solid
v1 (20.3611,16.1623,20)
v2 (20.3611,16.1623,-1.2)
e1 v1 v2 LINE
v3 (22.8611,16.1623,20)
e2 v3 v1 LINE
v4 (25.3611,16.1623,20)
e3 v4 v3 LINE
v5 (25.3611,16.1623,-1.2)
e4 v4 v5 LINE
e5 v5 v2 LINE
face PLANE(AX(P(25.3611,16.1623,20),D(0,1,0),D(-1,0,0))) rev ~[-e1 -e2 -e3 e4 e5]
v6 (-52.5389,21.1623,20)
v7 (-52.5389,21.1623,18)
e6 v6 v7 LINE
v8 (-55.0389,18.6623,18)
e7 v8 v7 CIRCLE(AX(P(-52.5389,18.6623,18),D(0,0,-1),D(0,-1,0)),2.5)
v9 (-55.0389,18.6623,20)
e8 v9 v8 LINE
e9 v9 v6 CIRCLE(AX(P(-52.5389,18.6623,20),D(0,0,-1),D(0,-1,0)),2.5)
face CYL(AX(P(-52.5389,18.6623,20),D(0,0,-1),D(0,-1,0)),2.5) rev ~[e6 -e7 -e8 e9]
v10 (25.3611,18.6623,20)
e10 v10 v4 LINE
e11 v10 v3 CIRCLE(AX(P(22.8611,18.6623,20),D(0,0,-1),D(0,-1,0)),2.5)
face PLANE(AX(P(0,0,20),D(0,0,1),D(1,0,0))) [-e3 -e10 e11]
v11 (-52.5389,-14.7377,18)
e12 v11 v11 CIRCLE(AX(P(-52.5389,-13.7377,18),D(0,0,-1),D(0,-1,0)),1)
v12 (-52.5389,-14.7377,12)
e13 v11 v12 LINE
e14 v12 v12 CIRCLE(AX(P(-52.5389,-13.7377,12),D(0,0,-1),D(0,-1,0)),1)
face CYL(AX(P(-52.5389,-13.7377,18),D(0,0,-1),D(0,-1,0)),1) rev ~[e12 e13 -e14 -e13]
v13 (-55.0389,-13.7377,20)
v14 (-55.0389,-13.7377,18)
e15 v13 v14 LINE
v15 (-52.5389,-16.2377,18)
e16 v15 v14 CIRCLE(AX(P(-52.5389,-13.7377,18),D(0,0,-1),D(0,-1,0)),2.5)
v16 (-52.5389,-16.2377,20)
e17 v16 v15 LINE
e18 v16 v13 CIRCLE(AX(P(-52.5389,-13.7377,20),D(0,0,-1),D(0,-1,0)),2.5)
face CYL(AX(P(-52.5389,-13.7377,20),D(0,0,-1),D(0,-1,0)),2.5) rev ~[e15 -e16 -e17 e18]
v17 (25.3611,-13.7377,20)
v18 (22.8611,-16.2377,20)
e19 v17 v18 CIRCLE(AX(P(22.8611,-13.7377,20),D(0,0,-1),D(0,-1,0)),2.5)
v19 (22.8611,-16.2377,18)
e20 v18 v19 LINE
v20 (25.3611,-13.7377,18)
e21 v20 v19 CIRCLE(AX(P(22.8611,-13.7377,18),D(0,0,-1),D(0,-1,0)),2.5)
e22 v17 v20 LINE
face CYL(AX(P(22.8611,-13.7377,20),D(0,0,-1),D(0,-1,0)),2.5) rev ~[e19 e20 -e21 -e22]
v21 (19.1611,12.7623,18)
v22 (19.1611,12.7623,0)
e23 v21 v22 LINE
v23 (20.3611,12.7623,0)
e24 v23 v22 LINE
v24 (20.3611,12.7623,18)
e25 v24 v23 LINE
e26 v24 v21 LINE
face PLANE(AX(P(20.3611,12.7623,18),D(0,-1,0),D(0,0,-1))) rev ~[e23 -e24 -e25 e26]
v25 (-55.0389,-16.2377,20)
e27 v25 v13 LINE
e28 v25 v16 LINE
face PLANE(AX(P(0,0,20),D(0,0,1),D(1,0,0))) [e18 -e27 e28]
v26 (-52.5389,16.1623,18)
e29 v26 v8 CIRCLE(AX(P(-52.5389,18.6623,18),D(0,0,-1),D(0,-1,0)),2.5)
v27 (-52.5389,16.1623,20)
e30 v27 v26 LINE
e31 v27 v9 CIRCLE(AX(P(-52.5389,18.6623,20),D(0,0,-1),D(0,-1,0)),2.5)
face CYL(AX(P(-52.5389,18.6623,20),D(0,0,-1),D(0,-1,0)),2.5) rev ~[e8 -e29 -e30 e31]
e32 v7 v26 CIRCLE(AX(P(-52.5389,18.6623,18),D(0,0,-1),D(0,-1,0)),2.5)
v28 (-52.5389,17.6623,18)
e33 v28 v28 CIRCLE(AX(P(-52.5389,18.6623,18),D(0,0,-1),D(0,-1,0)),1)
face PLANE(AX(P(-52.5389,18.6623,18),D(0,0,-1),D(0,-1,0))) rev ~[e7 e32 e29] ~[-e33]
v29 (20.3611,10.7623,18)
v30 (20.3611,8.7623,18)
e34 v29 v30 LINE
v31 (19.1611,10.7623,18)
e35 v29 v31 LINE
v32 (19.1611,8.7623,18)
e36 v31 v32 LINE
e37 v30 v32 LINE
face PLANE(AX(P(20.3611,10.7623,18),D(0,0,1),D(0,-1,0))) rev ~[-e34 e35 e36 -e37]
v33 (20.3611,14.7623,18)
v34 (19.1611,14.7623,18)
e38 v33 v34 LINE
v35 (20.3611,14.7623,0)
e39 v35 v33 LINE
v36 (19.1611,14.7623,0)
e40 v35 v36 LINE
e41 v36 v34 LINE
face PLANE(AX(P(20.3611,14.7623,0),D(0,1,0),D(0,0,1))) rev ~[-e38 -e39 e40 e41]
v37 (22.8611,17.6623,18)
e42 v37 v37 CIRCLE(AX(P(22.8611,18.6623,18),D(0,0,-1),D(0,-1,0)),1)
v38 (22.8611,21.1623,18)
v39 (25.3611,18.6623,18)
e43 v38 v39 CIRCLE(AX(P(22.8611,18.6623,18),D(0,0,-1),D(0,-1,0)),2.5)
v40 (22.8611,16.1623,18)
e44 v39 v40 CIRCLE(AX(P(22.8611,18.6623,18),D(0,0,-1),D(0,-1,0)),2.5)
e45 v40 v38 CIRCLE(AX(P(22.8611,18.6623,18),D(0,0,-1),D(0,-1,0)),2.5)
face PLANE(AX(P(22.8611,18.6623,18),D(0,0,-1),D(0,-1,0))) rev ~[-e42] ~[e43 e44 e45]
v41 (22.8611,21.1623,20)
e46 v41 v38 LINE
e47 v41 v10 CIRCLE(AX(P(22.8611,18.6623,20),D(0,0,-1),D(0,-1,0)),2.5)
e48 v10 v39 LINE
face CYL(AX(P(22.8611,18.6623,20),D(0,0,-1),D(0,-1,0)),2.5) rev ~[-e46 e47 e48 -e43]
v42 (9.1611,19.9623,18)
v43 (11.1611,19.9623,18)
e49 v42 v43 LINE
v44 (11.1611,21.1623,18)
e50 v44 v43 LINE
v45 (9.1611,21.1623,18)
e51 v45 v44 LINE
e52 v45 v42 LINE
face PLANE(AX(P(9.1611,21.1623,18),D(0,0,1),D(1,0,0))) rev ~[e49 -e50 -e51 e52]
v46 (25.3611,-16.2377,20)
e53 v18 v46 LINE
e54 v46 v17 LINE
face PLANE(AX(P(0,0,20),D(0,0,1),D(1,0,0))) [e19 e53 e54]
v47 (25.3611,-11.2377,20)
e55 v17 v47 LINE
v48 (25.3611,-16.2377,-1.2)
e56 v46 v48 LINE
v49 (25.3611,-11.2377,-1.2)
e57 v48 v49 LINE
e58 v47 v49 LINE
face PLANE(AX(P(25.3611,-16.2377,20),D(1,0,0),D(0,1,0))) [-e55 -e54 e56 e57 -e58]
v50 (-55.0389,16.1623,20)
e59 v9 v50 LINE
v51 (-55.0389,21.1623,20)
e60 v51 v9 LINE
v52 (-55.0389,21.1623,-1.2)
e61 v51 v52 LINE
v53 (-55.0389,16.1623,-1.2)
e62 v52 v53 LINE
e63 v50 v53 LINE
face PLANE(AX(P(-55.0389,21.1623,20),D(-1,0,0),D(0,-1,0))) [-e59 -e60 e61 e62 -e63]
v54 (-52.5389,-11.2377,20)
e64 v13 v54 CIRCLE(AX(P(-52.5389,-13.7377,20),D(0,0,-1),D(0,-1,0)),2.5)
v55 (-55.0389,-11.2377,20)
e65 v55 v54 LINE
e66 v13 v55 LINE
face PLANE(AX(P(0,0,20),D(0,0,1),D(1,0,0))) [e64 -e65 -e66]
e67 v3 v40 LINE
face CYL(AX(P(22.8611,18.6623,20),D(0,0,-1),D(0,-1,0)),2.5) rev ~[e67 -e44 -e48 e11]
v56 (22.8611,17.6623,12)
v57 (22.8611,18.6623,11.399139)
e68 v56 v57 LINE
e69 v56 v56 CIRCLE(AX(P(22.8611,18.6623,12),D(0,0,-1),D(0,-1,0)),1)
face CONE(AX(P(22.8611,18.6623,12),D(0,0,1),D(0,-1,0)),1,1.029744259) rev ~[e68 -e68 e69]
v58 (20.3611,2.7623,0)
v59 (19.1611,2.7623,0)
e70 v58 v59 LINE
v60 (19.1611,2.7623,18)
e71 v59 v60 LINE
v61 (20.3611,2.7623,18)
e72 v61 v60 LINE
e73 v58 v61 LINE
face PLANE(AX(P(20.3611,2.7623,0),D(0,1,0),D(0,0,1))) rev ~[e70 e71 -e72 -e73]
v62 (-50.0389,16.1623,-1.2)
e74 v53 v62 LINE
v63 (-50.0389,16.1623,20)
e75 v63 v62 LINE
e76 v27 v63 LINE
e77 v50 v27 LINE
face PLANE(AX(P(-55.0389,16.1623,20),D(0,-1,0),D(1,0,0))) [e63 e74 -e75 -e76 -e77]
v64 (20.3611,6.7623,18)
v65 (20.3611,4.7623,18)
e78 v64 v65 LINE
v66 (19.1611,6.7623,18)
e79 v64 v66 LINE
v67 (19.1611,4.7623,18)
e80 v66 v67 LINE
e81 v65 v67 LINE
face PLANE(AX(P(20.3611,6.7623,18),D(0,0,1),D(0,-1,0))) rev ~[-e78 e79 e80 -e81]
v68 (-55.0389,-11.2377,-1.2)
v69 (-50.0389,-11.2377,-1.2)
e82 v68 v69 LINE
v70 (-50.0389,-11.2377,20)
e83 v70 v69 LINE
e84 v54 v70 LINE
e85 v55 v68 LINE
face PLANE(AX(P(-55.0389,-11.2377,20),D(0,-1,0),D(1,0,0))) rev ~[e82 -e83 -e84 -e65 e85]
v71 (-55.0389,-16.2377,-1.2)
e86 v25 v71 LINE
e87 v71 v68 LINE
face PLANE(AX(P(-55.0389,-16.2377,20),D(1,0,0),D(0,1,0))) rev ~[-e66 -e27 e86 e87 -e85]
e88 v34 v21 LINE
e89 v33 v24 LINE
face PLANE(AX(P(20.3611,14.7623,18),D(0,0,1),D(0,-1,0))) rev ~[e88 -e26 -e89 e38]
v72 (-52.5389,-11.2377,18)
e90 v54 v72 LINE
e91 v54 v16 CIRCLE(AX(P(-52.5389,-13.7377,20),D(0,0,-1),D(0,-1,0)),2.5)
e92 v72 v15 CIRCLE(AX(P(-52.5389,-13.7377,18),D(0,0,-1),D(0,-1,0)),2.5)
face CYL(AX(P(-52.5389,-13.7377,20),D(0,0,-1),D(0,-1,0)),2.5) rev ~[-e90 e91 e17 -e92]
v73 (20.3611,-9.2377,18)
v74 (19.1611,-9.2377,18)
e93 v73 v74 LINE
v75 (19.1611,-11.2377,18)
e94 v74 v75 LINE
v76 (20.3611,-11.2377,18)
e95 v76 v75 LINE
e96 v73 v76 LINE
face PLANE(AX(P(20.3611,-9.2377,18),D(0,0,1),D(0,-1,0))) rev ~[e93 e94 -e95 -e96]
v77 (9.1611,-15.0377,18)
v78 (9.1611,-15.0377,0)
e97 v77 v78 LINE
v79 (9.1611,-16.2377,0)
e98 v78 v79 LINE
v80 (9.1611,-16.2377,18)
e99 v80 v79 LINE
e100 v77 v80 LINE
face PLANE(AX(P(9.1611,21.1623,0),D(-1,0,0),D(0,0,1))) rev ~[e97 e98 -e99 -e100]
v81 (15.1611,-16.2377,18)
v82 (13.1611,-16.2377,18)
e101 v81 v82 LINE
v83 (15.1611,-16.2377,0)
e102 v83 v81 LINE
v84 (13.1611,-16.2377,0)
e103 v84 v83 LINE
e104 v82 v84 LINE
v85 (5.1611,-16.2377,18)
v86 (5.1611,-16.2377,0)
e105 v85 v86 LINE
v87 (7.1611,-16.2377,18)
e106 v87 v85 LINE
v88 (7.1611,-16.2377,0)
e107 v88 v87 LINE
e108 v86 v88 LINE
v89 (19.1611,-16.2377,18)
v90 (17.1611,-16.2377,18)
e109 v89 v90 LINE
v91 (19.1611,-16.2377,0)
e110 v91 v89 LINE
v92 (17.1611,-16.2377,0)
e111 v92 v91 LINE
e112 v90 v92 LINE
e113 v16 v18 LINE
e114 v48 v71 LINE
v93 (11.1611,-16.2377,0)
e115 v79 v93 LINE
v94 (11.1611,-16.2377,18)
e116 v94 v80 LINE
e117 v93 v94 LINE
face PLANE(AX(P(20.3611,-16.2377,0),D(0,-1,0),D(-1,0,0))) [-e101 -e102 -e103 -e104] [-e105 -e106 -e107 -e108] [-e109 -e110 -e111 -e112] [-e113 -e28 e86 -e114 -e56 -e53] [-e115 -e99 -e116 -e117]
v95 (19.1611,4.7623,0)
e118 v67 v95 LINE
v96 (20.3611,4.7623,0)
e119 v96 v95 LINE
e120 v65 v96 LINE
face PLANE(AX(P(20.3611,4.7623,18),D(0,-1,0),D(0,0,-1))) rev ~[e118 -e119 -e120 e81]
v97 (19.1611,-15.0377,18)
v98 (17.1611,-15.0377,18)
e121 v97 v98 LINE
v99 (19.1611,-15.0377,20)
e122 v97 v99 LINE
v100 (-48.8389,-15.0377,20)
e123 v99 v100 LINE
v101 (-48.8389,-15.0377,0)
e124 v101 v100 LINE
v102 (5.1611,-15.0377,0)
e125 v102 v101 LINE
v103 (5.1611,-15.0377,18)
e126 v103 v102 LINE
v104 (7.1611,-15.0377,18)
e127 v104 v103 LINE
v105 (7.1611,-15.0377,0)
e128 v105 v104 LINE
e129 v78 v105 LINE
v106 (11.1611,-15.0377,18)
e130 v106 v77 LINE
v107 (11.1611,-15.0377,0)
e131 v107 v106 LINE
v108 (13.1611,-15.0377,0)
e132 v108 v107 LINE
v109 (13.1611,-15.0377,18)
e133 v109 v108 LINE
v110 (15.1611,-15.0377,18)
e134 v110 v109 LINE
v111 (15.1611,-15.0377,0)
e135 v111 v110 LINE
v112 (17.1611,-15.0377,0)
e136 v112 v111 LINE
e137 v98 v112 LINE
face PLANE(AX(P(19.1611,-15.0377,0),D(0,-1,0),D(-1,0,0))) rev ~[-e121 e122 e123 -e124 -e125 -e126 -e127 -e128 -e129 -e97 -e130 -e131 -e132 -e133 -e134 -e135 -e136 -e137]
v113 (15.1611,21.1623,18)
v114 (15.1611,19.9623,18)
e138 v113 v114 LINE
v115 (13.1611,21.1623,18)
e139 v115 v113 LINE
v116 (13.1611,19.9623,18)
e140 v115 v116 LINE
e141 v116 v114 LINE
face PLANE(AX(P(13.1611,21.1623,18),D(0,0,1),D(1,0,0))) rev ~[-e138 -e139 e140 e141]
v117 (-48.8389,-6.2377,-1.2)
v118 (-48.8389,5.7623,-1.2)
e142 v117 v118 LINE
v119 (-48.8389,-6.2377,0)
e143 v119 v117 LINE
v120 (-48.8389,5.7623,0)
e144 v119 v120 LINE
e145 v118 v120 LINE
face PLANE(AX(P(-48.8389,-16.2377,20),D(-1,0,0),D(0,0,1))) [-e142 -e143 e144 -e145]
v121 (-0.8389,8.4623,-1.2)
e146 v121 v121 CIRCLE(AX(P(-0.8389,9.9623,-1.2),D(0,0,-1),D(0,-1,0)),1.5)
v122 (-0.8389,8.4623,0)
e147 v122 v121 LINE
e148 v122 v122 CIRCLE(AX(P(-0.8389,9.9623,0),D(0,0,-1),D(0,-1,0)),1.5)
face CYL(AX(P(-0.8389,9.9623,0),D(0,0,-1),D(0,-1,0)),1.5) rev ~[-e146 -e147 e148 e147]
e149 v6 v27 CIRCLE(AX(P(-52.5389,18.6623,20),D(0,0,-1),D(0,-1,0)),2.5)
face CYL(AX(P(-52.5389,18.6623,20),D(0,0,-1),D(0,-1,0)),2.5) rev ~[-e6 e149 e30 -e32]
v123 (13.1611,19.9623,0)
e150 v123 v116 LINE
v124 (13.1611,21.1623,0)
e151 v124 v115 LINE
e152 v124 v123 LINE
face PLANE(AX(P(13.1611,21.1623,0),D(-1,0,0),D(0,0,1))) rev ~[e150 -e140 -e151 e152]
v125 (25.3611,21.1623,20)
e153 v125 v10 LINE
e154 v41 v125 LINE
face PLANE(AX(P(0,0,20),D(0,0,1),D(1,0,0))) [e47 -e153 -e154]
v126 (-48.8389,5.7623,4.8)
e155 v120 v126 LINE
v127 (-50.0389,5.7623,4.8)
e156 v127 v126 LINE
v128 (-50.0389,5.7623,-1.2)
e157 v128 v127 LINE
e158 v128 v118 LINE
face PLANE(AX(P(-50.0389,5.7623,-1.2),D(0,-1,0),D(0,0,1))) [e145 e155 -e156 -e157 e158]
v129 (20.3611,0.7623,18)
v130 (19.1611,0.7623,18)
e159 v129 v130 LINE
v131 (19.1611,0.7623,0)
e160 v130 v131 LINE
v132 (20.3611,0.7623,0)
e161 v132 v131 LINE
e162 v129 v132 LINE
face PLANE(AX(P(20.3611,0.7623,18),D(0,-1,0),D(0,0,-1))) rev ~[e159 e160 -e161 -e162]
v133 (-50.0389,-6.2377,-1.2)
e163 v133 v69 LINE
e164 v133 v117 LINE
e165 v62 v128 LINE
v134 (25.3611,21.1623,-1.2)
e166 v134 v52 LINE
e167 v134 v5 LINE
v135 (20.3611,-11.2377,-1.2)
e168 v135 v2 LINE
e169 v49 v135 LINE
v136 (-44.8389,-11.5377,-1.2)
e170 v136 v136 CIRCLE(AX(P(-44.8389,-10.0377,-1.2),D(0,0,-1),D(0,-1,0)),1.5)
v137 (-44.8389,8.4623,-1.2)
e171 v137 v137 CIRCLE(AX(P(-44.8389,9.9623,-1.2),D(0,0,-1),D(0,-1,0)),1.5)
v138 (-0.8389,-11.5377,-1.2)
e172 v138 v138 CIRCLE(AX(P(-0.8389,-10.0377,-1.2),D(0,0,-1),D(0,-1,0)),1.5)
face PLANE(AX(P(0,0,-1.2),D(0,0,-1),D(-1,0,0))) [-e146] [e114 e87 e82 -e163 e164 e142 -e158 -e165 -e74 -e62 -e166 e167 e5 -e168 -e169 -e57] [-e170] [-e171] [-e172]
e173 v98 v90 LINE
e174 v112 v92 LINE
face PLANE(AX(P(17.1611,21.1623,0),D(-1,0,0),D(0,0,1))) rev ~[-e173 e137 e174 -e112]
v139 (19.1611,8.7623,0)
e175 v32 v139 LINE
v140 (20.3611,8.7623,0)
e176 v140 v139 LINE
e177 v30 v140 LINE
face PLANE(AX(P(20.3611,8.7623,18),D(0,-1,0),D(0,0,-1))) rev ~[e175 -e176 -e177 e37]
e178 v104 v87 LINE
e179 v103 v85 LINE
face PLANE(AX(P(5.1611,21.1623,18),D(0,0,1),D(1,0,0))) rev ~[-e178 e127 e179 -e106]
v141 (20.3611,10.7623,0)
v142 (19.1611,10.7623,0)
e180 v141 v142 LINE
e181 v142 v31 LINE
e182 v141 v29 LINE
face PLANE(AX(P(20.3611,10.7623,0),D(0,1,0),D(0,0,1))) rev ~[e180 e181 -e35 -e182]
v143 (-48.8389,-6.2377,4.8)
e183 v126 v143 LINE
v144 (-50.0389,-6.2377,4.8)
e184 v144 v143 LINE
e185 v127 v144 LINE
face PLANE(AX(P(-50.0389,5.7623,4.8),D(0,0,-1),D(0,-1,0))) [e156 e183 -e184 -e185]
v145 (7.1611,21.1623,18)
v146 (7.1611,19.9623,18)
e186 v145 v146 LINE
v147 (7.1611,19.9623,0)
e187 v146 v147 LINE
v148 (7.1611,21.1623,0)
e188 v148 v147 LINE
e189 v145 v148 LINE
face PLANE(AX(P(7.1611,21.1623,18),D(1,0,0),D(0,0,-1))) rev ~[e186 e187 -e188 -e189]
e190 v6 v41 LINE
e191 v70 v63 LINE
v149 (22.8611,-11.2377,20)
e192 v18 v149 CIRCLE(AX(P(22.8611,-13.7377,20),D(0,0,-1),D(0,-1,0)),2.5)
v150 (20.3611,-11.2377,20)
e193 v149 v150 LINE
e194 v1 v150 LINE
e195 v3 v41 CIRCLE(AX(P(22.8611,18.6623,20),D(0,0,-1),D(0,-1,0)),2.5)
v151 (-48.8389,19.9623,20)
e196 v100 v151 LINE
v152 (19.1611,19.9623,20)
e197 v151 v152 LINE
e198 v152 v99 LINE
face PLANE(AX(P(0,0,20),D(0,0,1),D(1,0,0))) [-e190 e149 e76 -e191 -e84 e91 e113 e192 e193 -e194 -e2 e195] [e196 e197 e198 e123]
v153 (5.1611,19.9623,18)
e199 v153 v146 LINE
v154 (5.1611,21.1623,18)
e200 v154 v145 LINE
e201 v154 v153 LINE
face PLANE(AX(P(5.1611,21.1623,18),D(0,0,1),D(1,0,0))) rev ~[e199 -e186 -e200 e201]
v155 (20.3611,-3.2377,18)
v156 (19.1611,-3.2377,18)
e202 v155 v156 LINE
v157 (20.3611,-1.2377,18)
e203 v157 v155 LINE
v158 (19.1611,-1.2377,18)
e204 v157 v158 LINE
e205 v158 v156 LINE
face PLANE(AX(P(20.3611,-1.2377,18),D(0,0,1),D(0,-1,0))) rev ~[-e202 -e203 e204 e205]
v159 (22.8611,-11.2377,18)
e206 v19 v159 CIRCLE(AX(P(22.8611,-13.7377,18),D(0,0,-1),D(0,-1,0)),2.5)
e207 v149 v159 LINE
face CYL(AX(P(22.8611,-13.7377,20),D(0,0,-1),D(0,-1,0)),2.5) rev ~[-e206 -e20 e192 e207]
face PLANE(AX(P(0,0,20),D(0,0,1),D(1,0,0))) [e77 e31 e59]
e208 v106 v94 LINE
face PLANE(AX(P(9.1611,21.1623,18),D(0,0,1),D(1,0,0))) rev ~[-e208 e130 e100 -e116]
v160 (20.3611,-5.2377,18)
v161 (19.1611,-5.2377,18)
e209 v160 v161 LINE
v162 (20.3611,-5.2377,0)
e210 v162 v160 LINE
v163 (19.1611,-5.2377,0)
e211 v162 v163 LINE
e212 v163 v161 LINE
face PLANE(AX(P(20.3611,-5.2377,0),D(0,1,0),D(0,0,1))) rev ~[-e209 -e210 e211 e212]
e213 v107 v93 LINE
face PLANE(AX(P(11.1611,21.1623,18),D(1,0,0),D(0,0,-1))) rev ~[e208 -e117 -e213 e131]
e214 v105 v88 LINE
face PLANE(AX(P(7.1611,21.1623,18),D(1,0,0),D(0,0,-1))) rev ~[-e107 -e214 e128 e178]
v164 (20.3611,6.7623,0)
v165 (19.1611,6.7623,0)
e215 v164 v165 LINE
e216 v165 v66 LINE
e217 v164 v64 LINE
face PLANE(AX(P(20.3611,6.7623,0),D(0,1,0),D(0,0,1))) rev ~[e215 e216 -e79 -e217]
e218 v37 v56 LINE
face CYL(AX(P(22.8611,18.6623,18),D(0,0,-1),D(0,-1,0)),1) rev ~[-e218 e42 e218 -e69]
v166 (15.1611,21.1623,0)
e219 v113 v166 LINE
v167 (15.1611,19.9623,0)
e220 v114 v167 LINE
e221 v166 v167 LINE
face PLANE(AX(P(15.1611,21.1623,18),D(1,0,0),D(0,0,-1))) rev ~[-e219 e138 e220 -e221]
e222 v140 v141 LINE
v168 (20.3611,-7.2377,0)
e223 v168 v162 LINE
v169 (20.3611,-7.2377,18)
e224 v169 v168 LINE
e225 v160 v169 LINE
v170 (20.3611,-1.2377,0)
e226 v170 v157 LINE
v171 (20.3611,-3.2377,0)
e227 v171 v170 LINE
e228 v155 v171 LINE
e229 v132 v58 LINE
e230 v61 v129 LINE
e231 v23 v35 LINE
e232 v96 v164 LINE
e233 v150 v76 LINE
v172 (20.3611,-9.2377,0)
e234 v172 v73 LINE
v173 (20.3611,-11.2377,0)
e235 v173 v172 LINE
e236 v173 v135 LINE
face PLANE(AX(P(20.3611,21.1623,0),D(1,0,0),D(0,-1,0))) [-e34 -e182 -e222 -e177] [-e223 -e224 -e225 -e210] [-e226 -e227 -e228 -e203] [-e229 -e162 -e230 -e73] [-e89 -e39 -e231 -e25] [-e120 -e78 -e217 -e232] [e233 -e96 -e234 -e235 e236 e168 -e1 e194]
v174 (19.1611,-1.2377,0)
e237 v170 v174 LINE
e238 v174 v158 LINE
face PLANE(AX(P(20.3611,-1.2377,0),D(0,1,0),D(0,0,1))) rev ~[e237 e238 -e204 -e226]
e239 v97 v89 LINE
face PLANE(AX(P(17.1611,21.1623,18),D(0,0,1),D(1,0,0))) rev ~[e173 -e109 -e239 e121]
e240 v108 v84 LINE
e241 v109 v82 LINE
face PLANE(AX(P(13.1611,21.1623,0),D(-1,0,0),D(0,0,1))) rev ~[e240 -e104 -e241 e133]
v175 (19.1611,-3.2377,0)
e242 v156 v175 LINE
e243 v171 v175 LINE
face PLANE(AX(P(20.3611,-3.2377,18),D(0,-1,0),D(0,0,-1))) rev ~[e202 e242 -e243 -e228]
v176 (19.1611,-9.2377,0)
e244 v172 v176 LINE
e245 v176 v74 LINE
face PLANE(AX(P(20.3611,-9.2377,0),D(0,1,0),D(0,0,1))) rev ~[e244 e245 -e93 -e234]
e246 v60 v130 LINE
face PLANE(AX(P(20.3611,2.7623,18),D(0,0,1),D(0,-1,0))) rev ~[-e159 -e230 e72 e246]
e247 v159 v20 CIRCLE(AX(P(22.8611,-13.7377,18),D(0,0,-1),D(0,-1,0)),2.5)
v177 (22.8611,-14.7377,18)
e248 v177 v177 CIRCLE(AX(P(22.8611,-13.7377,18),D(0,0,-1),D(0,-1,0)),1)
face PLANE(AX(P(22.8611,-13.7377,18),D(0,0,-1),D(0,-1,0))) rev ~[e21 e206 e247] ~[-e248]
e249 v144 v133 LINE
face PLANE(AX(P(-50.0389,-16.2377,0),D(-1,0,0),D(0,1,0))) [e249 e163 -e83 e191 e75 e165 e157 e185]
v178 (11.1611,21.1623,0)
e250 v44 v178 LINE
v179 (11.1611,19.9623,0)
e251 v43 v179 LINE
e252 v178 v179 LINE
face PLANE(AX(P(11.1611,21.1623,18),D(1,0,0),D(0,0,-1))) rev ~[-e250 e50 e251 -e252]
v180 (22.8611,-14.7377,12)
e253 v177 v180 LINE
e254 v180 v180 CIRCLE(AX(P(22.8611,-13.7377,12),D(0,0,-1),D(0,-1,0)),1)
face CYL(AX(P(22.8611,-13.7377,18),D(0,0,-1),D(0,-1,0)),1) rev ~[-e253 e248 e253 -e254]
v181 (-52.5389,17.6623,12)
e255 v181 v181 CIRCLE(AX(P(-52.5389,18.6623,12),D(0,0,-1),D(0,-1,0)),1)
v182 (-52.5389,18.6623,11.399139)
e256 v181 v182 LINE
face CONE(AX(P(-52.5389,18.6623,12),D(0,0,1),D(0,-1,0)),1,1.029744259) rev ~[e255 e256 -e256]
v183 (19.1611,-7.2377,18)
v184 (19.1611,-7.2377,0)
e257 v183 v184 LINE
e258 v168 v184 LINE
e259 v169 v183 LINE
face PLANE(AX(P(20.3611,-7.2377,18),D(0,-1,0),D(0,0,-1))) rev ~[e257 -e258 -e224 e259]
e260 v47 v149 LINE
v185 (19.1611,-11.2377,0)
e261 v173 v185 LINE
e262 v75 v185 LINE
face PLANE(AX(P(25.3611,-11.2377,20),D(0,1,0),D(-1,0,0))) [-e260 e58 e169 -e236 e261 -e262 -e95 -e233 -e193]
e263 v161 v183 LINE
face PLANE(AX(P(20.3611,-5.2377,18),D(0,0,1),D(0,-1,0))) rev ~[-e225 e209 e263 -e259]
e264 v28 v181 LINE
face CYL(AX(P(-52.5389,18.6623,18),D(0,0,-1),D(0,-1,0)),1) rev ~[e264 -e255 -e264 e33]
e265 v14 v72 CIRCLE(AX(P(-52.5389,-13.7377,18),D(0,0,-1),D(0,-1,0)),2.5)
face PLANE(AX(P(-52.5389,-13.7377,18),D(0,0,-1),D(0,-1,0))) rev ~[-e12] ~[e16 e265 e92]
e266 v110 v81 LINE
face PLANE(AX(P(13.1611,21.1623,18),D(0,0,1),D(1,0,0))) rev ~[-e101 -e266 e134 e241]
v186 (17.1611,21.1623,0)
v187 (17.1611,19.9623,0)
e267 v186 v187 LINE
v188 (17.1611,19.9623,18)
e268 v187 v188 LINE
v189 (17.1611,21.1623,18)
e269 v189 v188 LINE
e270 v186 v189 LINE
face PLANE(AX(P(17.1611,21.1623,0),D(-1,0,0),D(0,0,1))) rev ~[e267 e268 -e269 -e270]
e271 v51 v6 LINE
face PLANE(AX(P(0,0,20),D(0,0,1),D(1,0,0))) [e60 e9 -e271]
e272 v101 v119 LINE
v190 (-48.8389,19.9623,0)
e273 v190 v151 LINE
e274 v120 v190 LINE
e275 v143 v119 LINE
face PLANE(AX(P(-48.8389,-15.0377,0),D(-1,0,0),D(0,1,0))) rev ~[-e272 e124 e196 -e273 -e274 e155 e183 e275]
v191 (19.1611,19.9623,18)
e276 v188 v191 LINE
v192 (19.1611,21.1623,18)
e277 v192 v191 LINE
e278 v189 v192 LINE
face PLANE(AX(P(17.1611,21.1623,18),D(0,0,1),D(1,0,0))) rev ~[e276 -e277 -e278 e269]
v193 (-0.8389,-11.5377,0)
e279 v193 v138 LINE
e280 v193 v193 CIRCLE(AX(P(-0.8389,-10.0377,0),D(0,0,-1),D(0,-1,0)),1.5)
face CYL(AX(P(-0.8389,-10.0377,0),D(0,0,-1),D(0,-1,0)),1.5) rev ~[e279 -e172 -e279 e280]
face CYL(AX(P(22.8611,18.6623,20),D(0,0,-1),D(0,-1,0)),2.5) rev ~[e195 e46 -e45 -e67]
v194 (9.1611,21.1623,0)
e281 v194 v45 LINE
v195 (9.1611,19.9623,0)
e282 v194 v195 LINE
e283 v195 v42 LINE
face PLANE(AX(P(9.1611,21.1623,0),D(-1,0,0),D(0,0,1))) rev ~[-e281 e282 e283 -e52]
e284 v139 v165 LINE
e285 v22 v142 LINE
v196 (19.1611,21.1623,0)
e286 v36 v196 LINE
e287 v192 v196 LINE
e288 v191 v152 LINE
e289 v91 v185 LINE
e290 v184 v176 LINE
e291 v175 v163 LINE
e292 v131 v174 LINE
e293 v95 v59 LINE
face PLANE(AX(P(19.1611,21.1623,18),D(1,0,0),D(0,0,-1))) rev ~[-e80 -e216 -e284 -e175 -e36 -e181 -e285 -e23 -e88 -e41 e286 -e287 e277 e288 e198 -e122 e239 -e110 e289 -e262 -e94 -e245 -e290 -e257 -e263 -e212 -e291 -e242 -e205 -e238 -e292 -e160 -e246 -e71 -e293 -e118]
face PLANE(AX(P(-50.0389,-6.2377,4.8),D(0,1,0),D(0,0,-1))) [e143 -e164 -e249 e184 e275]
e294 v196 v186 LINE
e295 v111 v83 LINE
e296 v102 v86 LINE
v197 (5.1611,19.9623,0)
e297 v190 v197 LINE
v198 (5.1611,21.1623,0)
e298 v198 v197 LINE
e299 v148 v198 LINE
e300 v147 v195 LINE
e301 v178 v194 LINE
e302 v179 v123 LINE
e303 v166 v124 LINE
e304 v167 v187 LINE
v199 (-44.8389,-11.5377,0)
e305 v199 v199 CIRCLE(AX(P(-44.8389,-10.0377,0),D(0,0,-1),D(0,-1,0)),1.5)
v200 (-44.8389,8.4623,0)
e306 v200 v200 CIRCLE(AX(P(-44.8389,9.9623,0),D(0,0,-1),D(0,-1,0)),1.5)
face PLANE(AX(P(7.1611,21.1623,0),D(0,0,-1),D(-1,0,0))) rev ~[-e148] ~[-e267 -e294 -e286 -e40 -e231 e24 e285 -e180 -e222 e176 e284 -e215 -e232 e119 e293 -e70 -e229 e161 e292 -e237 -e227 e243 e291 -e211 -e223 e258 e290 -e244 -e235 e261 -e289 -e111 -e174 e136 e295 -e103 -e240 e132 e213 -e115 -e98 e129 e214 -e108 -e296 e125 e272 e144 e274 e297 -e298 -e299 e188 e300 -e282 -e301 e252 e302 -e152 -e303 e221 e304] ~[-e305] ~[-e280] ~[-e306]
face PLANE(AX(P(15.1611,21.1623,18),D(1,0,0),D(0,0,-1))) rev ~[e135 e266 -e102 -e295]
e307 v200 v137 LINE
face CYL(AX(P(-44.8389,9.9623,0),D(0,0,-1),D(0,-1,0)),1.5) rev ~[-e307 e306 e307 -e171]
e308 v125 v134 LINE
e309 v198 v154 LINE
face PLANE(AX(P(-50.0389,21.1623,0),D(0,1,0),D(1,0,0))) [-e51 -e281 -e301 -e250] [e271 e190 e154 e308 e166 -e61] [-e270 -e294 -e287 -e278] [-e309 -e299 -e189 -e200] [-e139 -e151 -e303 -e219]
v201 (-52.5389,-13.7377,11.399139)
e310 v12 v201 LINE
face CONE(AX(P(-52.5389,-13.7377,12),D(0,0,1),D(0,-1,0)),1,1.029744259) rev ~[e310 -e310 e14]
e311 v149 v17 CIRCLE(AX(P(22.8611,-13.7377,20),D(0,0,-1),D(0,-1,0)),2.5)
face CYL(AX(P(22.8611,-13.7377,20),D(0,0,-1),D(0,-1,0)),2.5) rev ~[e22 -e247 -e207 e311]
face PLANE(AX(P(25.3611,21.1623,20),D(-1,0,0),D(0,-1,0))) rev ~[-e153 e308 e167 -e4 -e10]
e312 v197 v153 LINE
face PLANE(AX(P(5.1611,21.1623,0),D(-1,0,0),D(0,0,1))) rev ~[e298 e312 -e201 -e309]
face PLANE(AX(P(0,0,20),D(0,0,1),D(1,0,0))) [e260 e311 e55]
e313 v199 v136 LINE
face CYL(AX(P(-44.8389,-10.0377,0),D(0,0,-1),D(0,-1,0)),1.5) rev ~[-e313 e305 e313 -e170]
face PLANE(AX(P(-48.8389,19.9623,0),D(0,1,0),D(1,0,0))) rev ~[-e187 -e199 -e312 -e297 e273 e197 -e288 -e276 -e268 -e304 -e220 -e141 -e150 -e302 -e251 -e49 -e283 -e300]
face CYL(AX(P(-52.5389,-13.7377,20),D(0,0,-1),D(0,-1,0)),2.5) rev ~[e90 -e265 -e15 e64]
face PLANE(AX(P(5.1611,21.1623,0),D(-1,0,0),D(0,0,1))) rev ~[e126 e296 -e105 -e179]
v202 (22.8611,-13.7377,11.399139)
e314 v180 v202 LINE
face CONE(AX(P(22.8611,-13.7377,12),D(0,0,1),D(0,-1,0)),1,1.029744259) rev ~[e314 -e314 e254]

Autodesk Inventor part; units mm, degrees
ref_plane "YZ Plane" through (0, 0, 0) normal (1, 0, 0) x (0, 1, 0)
ref_plane "XZ Plane" through (0, 0, 0) normal (0, 1, 0) x (-1, 0, 0)
ref_plane "XY Plane" through (0, 0, 0) normal (0, 0, 1) x (1, 0, 0)
sketch "Sketch1" plane through (0, 0, 0) normal (0, 0, 1) x (1, 0, 0)
  line L0 (-48.8389, 19.9623) -> (19.1611, 19.9623)
  line L1 (19.1611, 19.9623) -> (19.1611, -15.0377)
  line L2 (19.1611, -15.0377) -> (-48.8389, -15.0377)
  line L3 (-48.8389, -15.0377) -> (-48.8389, 19.9623)
  line L4 (-50.0389, 21.1623) -> (20.3611, 21.1623)
  line L5 (20.3611, 21.1623) -> (20.3611, -16.2377)
  line L6 (20.3611, -16.2377) -> (-50.0389, -16.2377)
  line L7 (-50.0389, -16.2377) -> (-50.0389, 21.1623)
  point P0 (0, 0)
  dimension "d0" = 35
  dimension "d1" = 68
  dimension "d2" = 1.2
  dimension "d3" = 1.2
  dimension "d4" = 1.2
  dimension "d5" = 1.2
extrude "Extrusion1" add sketch "Sketch1" along normal blind 20
sketch "Sketch2" plane through (0, 0, 0) normal (0, 0, -1) x (-1, 0, 0)
  line L0 (-20.3611, 21.1623) -> (50.0389, 21.1623)
  line L1 (50.0389, 21.1623) -> (50.0389, -16.2377)
  line L2 (50.0389, -16.2377) -> (-20.3611, -16.2377)
  line L3 (-20.3611, -16.2377) -> (-20.3611, 21.1623)
  point P0 (0, 0)
extrude "Extrusion2" add sketch "Sketch2" along normal blind 1.2
sketch "Sketch3" plane through (-50.0389, -16.2377, 20) normal (-1, 0, 0) x (0, 0, 1)
  line L0 (-21.2, 0) -> (-21.2, 37.4) projected
  line L1 (-21.2, 22) -> (-15.2, 22)
  line L2 (-15.2, 22) -> (-15.2, 10)
  line L3 (-15.2, 10) -> (-21.2, 10)
  line L4 (-21.2, 10) -> (-21.2, 22)
  line L5 (0, 0) -> (-21.2, 0) projected
  point P0 (-20, 16.2377)
  dimension "d10" = 10
  dimension "d11" = 22
  dimension "d12" = 6
extrude "Extrusion3" cut sketch "Sketch3" against normal blind 1.2
sketch "Sketch4" plane through (0, 0, 0) normal (0, 0, 1) x (1, 0, 0)
  line L0 (19.1611, -15.0377) -> (-48.8389, -15.0377) projected
  line L1 (-48.8389, -15.0377) -> (-48.8389, 19.9623) projected
  circle A0 centre (-44.8389, 9.9623) radius 2.5
  circle A1 centre (-44.8389, -10.0377) radius 2.5
  circle A2 centre (-0.8389, 9.9623) radius 2.5
  circle A3 centre (-0.8389, -10.0377) radius 2.5
  point P0 (0, 0)
  dimension "d15" = 5
  dimension "d16" = 25
  dimension "d17" = 4
  dimension "d18" = 4
  dimension "d19" = 44
  dimension "d20" = 44
  dimension "d21" = 5
  dimension "d22" = 25
  dimension "d23" = 5
  dimension "d24" = 5
  dimension "d25" = 5
  dimension "d26" = 5
hole "Hole1" at (-44.8389, -10.0377, 0) at (-44.8389, 9.9623, 0) at (-0.8389, 9.9623, 0) at (-0.8389, -10.0377, 0) direction (0, 0, -1) diameter 3 depth 8 tip angle 118
sketch "Sketch5" plane through (0, 0, 20) normal (0, 0, 1) x (1, 0, 0)
  line L0 (-50.0389, 21.1623) -> (-55.0389, 21.1623)
  line L1 (-55.0389, 21.1623) -> (-55.0389, 16.1623)
  line L2 (-55.0389, 16.1623) -> (-50.0389, 16.1623)
  line L3 (-50.0389, 16.1623) -> (-50.0389, 21.1623)
  line L4 (-50.0389, -16.2377) -> (-55.0389, -16.2377)
  line L5 (-55.0389, -16.2377) -> (-55.0389, -11.2377)
  line L6 (-55.0389, -11.2377) -> (-50.0389, -11.2377)
  line L7 (-50.0389, -11.2377) -> (-50.0389, -16.2377)
  line L8 (20.3611, -16.2377) -> (25.3611, -16.2377)
  line L9 (25.3611, -16.2377) -> (25.3611, -11.2377)
  line L10 (25.3611, -11.2377) -> (20.3611, -11.2377)
  line L11 (20.3611, -11.2377) -> (20.3611, -16.2377)
  line L12 (20.3611, 21.1623) -> (25.3611, 21.1623)
  line L13 (25.3611, 21.1623) -> (25.3611, 16.1623)
  line L14 (25.3611, 16.1623) -> (20.3611, 16.1623)
  line L15 (20.3611, 16.1623) -> (20.3611, 21.1623)
  line L16 (20.3611, -16.2377) -> (20.3611, 21.1623) projected
  point P0 (0, 0)
  dimension "d34" = 5
  dimension "d35" = 5
  dimension "d36" = 5
  dimension "d37" = 5
  dimension "d38" = 5
  dimension "d39" = 5
  dimension "d40" = 5
  dimension "d41" = 5
extrude "Extrusion4" add sketch "Sketch5" against normal blind 21.2
sketch "Sketch6" plane through (20.3611, -11.2377, -1.2) normal (1, 0, 0) x (0, 0, -1)
  line L0 (-21.2, 0) -> (0, 0) projected
  line L1 (-19.2, 0) -> (-1.2, 0)
  line L2 (-1.2, 0) -> (-1.2, 2)
  line L3 (-1.2, 2) -> (-19.2, 2)
  line L4 (-19.2, 2) -> (-19.2, 0)
  line L5 (-1.2, -3.8) -> (-1.2, 31.2) projected
  line L6 (-19.2, 4) -> (-1.2, 4)
  line L7 (-1.2, 4) -> (-1.2, 6)
  line L8 (-1.2, 6) -> (-19.2, 6)
  line L9 (-19.2, 6) -> (-19.2, 4)
  line L10 (-19.2, 8) -> (-1.2, 8)
  line L11 (-1.2, 8) -> (-1.2, 10)
  line L12 (-1.2, 10) -> (-19.2, 10)
  line L13 (-19.2, 10) -> (-19.2, 8)
  line L14 (-19.2, 12) -> (-1.2, 12)
  line L15 (-1.2, 12) -> (-1.2, 14)
  line L16 (-1.2, 14) -> (-19.2, 14)
  line L17 (-19.2, 14) -> (-19.2, 12)
  line L18 (-19.2, 16) -> (-1.2, 16)
  line L19 (-1.2, 16) -> (-1.2, 18)
  line L20 (-1.2, 18) -> (-19.2, 18)
  line L21 (-19.2, 18) -> (-19.2, 16)
  line L22 (-19.2, 20) -> (-1.2, 20)
  line L23 (-1.2, 20) -> (-1.2, 22)
  line L24 (-1.2, 22) -> (-19.2, 22)
  line L25 (-19.2, 22) -> (-19.2, 20)
  line L26 (-19.2, 24) -> (-1.2, 24)
  line L27 (-1.2, 24) -> (-1.2, 26)
  line L28 (-1.2, 26) -> (-19.2, 26)
  line L29 (-19.2, 26) -> (-19.2, 24)
  point P0 (-1.2, 11.2377)
  point P1 (-19.2, -2)
  dimension "d44" = 18
  dimension "d45" = 2
  dimension "d46" = 2
  dimension "d47" = 18
  dimension "d48" = 2
  dimension "d49" = 18
  dimension "d50" = 2
  dimension "d51" = 18
  dimension "d52" = 2
  dimension "d53" = 18
  dimension "d54" = 2
  dimension "d55" = 18
  dimension "d56" = 2
  dimension "d57" = 18
  dimension "d58" = 2
extrude "Extrusion5" cut sketch "Sketch6" against normal blind 1.2
sketch "Sketch7" plane through (-55.0389, 21.1623, 20) normal (0, 1, 0) x (1, 0, 0)
  line L0 (74.2, 20) -> (72.2, 20)
  line L1 (72.2, 20) -> (72.2, 2)
  line L2 (72.2, 2) -> (74.2, 2)
  line L3 (74.2, 2) -> (74.2, 20)
  line L4 (70.2, 20) -> (68.2, 20)
  line L5 (68.2, 20) -> (68.2, 2)
  line L6 (68.2, 2) -> (70.2, 2)
  line L7 (70.2, 2) -> (70.2, 20)
  line L8 (66.2, 20) -> (64.2, 20)
  line L9 (64.2, 20) -> (64.2, 2)
  line L10 (64.2, 2) -> (66.2, 2)
  line L11 (66.2, 2) -> (66.2, 20)
  line L12 (62.2, 20) -> (60.2, 20)
  line L13 (60.2, 20) -> (60.2, 2)
  line L14 (60.2, 2) -> (62.2, 2)
  line L15 (62.2, 2) -> (62.2, 20)
  point P0 (55.0389, 20)
  point P1 (76.2, 2)
  dimension "d61" = 2
  dimension "d62" = 18
  dimension "d63" = 2
  dimension "d64" = 2
  dimension "d65" = 18
  dimension "d66" = 2
  dimension "d67" = 18
  dimension "d68" = 2
  dimension "d69" = 18
extrude "Extrusion6" cut sketch "Sketch7" against normal blind 100
sketch "Sketch8" plane through (0, 0, 20) normal (0, 0, 1) x (1, 0, 0)
  line L0 (25.3611, -16.2377) -> (-55.0389, -16.2377) projected
  line L1 (25.3611, -11.2377) -> (25.3611, -16.2377) projected
  line L2 (25.3611, 21.1623) -> (25.3611, 16.1623) projected
  line L3 (25.3611, 16.1623) -> (20.3611, 16.1623) projected
  line L4 (-55.0389, 21.1623) -> (25.3611, 21.1623) projected
  line L5 (-55.0389, 21.1623) -> (-55.0389, 16.1623) projected
  line L6 (-55.0389, -16.2377) -> (-55.0389, -11.2377) projected
  point P0 (0, 0)
  point P1 (22.8611, -13.7377)
  point P2 (22.8611, 18.6623)
  point P3 (-52.5389, 18.6623)
  point P4 (-52.5389, -13.7377)
  dimension "d72" = 2.5
  dimension "d73" = 2.5
  dimension "d74" = 2.5
  dimension "d75" = 2.5
  dimension "d76" = 2.5
  dimension "d77" = 2.5
  dimension "d78" = 2.5
  dimension "d79" = 2.5
hole "Hole2" at (22.8611, -13.7377, 20) at (22.8611, 18.6623, 20) at (-52.5389, 18.6623, 20) at (-52.5389, -13.7377, 20) direction (0, 0, -1) diameter 2 depth 8 tip angle 118 counterbore diameter 5 counterbore depth 2
properties part number "case body"
